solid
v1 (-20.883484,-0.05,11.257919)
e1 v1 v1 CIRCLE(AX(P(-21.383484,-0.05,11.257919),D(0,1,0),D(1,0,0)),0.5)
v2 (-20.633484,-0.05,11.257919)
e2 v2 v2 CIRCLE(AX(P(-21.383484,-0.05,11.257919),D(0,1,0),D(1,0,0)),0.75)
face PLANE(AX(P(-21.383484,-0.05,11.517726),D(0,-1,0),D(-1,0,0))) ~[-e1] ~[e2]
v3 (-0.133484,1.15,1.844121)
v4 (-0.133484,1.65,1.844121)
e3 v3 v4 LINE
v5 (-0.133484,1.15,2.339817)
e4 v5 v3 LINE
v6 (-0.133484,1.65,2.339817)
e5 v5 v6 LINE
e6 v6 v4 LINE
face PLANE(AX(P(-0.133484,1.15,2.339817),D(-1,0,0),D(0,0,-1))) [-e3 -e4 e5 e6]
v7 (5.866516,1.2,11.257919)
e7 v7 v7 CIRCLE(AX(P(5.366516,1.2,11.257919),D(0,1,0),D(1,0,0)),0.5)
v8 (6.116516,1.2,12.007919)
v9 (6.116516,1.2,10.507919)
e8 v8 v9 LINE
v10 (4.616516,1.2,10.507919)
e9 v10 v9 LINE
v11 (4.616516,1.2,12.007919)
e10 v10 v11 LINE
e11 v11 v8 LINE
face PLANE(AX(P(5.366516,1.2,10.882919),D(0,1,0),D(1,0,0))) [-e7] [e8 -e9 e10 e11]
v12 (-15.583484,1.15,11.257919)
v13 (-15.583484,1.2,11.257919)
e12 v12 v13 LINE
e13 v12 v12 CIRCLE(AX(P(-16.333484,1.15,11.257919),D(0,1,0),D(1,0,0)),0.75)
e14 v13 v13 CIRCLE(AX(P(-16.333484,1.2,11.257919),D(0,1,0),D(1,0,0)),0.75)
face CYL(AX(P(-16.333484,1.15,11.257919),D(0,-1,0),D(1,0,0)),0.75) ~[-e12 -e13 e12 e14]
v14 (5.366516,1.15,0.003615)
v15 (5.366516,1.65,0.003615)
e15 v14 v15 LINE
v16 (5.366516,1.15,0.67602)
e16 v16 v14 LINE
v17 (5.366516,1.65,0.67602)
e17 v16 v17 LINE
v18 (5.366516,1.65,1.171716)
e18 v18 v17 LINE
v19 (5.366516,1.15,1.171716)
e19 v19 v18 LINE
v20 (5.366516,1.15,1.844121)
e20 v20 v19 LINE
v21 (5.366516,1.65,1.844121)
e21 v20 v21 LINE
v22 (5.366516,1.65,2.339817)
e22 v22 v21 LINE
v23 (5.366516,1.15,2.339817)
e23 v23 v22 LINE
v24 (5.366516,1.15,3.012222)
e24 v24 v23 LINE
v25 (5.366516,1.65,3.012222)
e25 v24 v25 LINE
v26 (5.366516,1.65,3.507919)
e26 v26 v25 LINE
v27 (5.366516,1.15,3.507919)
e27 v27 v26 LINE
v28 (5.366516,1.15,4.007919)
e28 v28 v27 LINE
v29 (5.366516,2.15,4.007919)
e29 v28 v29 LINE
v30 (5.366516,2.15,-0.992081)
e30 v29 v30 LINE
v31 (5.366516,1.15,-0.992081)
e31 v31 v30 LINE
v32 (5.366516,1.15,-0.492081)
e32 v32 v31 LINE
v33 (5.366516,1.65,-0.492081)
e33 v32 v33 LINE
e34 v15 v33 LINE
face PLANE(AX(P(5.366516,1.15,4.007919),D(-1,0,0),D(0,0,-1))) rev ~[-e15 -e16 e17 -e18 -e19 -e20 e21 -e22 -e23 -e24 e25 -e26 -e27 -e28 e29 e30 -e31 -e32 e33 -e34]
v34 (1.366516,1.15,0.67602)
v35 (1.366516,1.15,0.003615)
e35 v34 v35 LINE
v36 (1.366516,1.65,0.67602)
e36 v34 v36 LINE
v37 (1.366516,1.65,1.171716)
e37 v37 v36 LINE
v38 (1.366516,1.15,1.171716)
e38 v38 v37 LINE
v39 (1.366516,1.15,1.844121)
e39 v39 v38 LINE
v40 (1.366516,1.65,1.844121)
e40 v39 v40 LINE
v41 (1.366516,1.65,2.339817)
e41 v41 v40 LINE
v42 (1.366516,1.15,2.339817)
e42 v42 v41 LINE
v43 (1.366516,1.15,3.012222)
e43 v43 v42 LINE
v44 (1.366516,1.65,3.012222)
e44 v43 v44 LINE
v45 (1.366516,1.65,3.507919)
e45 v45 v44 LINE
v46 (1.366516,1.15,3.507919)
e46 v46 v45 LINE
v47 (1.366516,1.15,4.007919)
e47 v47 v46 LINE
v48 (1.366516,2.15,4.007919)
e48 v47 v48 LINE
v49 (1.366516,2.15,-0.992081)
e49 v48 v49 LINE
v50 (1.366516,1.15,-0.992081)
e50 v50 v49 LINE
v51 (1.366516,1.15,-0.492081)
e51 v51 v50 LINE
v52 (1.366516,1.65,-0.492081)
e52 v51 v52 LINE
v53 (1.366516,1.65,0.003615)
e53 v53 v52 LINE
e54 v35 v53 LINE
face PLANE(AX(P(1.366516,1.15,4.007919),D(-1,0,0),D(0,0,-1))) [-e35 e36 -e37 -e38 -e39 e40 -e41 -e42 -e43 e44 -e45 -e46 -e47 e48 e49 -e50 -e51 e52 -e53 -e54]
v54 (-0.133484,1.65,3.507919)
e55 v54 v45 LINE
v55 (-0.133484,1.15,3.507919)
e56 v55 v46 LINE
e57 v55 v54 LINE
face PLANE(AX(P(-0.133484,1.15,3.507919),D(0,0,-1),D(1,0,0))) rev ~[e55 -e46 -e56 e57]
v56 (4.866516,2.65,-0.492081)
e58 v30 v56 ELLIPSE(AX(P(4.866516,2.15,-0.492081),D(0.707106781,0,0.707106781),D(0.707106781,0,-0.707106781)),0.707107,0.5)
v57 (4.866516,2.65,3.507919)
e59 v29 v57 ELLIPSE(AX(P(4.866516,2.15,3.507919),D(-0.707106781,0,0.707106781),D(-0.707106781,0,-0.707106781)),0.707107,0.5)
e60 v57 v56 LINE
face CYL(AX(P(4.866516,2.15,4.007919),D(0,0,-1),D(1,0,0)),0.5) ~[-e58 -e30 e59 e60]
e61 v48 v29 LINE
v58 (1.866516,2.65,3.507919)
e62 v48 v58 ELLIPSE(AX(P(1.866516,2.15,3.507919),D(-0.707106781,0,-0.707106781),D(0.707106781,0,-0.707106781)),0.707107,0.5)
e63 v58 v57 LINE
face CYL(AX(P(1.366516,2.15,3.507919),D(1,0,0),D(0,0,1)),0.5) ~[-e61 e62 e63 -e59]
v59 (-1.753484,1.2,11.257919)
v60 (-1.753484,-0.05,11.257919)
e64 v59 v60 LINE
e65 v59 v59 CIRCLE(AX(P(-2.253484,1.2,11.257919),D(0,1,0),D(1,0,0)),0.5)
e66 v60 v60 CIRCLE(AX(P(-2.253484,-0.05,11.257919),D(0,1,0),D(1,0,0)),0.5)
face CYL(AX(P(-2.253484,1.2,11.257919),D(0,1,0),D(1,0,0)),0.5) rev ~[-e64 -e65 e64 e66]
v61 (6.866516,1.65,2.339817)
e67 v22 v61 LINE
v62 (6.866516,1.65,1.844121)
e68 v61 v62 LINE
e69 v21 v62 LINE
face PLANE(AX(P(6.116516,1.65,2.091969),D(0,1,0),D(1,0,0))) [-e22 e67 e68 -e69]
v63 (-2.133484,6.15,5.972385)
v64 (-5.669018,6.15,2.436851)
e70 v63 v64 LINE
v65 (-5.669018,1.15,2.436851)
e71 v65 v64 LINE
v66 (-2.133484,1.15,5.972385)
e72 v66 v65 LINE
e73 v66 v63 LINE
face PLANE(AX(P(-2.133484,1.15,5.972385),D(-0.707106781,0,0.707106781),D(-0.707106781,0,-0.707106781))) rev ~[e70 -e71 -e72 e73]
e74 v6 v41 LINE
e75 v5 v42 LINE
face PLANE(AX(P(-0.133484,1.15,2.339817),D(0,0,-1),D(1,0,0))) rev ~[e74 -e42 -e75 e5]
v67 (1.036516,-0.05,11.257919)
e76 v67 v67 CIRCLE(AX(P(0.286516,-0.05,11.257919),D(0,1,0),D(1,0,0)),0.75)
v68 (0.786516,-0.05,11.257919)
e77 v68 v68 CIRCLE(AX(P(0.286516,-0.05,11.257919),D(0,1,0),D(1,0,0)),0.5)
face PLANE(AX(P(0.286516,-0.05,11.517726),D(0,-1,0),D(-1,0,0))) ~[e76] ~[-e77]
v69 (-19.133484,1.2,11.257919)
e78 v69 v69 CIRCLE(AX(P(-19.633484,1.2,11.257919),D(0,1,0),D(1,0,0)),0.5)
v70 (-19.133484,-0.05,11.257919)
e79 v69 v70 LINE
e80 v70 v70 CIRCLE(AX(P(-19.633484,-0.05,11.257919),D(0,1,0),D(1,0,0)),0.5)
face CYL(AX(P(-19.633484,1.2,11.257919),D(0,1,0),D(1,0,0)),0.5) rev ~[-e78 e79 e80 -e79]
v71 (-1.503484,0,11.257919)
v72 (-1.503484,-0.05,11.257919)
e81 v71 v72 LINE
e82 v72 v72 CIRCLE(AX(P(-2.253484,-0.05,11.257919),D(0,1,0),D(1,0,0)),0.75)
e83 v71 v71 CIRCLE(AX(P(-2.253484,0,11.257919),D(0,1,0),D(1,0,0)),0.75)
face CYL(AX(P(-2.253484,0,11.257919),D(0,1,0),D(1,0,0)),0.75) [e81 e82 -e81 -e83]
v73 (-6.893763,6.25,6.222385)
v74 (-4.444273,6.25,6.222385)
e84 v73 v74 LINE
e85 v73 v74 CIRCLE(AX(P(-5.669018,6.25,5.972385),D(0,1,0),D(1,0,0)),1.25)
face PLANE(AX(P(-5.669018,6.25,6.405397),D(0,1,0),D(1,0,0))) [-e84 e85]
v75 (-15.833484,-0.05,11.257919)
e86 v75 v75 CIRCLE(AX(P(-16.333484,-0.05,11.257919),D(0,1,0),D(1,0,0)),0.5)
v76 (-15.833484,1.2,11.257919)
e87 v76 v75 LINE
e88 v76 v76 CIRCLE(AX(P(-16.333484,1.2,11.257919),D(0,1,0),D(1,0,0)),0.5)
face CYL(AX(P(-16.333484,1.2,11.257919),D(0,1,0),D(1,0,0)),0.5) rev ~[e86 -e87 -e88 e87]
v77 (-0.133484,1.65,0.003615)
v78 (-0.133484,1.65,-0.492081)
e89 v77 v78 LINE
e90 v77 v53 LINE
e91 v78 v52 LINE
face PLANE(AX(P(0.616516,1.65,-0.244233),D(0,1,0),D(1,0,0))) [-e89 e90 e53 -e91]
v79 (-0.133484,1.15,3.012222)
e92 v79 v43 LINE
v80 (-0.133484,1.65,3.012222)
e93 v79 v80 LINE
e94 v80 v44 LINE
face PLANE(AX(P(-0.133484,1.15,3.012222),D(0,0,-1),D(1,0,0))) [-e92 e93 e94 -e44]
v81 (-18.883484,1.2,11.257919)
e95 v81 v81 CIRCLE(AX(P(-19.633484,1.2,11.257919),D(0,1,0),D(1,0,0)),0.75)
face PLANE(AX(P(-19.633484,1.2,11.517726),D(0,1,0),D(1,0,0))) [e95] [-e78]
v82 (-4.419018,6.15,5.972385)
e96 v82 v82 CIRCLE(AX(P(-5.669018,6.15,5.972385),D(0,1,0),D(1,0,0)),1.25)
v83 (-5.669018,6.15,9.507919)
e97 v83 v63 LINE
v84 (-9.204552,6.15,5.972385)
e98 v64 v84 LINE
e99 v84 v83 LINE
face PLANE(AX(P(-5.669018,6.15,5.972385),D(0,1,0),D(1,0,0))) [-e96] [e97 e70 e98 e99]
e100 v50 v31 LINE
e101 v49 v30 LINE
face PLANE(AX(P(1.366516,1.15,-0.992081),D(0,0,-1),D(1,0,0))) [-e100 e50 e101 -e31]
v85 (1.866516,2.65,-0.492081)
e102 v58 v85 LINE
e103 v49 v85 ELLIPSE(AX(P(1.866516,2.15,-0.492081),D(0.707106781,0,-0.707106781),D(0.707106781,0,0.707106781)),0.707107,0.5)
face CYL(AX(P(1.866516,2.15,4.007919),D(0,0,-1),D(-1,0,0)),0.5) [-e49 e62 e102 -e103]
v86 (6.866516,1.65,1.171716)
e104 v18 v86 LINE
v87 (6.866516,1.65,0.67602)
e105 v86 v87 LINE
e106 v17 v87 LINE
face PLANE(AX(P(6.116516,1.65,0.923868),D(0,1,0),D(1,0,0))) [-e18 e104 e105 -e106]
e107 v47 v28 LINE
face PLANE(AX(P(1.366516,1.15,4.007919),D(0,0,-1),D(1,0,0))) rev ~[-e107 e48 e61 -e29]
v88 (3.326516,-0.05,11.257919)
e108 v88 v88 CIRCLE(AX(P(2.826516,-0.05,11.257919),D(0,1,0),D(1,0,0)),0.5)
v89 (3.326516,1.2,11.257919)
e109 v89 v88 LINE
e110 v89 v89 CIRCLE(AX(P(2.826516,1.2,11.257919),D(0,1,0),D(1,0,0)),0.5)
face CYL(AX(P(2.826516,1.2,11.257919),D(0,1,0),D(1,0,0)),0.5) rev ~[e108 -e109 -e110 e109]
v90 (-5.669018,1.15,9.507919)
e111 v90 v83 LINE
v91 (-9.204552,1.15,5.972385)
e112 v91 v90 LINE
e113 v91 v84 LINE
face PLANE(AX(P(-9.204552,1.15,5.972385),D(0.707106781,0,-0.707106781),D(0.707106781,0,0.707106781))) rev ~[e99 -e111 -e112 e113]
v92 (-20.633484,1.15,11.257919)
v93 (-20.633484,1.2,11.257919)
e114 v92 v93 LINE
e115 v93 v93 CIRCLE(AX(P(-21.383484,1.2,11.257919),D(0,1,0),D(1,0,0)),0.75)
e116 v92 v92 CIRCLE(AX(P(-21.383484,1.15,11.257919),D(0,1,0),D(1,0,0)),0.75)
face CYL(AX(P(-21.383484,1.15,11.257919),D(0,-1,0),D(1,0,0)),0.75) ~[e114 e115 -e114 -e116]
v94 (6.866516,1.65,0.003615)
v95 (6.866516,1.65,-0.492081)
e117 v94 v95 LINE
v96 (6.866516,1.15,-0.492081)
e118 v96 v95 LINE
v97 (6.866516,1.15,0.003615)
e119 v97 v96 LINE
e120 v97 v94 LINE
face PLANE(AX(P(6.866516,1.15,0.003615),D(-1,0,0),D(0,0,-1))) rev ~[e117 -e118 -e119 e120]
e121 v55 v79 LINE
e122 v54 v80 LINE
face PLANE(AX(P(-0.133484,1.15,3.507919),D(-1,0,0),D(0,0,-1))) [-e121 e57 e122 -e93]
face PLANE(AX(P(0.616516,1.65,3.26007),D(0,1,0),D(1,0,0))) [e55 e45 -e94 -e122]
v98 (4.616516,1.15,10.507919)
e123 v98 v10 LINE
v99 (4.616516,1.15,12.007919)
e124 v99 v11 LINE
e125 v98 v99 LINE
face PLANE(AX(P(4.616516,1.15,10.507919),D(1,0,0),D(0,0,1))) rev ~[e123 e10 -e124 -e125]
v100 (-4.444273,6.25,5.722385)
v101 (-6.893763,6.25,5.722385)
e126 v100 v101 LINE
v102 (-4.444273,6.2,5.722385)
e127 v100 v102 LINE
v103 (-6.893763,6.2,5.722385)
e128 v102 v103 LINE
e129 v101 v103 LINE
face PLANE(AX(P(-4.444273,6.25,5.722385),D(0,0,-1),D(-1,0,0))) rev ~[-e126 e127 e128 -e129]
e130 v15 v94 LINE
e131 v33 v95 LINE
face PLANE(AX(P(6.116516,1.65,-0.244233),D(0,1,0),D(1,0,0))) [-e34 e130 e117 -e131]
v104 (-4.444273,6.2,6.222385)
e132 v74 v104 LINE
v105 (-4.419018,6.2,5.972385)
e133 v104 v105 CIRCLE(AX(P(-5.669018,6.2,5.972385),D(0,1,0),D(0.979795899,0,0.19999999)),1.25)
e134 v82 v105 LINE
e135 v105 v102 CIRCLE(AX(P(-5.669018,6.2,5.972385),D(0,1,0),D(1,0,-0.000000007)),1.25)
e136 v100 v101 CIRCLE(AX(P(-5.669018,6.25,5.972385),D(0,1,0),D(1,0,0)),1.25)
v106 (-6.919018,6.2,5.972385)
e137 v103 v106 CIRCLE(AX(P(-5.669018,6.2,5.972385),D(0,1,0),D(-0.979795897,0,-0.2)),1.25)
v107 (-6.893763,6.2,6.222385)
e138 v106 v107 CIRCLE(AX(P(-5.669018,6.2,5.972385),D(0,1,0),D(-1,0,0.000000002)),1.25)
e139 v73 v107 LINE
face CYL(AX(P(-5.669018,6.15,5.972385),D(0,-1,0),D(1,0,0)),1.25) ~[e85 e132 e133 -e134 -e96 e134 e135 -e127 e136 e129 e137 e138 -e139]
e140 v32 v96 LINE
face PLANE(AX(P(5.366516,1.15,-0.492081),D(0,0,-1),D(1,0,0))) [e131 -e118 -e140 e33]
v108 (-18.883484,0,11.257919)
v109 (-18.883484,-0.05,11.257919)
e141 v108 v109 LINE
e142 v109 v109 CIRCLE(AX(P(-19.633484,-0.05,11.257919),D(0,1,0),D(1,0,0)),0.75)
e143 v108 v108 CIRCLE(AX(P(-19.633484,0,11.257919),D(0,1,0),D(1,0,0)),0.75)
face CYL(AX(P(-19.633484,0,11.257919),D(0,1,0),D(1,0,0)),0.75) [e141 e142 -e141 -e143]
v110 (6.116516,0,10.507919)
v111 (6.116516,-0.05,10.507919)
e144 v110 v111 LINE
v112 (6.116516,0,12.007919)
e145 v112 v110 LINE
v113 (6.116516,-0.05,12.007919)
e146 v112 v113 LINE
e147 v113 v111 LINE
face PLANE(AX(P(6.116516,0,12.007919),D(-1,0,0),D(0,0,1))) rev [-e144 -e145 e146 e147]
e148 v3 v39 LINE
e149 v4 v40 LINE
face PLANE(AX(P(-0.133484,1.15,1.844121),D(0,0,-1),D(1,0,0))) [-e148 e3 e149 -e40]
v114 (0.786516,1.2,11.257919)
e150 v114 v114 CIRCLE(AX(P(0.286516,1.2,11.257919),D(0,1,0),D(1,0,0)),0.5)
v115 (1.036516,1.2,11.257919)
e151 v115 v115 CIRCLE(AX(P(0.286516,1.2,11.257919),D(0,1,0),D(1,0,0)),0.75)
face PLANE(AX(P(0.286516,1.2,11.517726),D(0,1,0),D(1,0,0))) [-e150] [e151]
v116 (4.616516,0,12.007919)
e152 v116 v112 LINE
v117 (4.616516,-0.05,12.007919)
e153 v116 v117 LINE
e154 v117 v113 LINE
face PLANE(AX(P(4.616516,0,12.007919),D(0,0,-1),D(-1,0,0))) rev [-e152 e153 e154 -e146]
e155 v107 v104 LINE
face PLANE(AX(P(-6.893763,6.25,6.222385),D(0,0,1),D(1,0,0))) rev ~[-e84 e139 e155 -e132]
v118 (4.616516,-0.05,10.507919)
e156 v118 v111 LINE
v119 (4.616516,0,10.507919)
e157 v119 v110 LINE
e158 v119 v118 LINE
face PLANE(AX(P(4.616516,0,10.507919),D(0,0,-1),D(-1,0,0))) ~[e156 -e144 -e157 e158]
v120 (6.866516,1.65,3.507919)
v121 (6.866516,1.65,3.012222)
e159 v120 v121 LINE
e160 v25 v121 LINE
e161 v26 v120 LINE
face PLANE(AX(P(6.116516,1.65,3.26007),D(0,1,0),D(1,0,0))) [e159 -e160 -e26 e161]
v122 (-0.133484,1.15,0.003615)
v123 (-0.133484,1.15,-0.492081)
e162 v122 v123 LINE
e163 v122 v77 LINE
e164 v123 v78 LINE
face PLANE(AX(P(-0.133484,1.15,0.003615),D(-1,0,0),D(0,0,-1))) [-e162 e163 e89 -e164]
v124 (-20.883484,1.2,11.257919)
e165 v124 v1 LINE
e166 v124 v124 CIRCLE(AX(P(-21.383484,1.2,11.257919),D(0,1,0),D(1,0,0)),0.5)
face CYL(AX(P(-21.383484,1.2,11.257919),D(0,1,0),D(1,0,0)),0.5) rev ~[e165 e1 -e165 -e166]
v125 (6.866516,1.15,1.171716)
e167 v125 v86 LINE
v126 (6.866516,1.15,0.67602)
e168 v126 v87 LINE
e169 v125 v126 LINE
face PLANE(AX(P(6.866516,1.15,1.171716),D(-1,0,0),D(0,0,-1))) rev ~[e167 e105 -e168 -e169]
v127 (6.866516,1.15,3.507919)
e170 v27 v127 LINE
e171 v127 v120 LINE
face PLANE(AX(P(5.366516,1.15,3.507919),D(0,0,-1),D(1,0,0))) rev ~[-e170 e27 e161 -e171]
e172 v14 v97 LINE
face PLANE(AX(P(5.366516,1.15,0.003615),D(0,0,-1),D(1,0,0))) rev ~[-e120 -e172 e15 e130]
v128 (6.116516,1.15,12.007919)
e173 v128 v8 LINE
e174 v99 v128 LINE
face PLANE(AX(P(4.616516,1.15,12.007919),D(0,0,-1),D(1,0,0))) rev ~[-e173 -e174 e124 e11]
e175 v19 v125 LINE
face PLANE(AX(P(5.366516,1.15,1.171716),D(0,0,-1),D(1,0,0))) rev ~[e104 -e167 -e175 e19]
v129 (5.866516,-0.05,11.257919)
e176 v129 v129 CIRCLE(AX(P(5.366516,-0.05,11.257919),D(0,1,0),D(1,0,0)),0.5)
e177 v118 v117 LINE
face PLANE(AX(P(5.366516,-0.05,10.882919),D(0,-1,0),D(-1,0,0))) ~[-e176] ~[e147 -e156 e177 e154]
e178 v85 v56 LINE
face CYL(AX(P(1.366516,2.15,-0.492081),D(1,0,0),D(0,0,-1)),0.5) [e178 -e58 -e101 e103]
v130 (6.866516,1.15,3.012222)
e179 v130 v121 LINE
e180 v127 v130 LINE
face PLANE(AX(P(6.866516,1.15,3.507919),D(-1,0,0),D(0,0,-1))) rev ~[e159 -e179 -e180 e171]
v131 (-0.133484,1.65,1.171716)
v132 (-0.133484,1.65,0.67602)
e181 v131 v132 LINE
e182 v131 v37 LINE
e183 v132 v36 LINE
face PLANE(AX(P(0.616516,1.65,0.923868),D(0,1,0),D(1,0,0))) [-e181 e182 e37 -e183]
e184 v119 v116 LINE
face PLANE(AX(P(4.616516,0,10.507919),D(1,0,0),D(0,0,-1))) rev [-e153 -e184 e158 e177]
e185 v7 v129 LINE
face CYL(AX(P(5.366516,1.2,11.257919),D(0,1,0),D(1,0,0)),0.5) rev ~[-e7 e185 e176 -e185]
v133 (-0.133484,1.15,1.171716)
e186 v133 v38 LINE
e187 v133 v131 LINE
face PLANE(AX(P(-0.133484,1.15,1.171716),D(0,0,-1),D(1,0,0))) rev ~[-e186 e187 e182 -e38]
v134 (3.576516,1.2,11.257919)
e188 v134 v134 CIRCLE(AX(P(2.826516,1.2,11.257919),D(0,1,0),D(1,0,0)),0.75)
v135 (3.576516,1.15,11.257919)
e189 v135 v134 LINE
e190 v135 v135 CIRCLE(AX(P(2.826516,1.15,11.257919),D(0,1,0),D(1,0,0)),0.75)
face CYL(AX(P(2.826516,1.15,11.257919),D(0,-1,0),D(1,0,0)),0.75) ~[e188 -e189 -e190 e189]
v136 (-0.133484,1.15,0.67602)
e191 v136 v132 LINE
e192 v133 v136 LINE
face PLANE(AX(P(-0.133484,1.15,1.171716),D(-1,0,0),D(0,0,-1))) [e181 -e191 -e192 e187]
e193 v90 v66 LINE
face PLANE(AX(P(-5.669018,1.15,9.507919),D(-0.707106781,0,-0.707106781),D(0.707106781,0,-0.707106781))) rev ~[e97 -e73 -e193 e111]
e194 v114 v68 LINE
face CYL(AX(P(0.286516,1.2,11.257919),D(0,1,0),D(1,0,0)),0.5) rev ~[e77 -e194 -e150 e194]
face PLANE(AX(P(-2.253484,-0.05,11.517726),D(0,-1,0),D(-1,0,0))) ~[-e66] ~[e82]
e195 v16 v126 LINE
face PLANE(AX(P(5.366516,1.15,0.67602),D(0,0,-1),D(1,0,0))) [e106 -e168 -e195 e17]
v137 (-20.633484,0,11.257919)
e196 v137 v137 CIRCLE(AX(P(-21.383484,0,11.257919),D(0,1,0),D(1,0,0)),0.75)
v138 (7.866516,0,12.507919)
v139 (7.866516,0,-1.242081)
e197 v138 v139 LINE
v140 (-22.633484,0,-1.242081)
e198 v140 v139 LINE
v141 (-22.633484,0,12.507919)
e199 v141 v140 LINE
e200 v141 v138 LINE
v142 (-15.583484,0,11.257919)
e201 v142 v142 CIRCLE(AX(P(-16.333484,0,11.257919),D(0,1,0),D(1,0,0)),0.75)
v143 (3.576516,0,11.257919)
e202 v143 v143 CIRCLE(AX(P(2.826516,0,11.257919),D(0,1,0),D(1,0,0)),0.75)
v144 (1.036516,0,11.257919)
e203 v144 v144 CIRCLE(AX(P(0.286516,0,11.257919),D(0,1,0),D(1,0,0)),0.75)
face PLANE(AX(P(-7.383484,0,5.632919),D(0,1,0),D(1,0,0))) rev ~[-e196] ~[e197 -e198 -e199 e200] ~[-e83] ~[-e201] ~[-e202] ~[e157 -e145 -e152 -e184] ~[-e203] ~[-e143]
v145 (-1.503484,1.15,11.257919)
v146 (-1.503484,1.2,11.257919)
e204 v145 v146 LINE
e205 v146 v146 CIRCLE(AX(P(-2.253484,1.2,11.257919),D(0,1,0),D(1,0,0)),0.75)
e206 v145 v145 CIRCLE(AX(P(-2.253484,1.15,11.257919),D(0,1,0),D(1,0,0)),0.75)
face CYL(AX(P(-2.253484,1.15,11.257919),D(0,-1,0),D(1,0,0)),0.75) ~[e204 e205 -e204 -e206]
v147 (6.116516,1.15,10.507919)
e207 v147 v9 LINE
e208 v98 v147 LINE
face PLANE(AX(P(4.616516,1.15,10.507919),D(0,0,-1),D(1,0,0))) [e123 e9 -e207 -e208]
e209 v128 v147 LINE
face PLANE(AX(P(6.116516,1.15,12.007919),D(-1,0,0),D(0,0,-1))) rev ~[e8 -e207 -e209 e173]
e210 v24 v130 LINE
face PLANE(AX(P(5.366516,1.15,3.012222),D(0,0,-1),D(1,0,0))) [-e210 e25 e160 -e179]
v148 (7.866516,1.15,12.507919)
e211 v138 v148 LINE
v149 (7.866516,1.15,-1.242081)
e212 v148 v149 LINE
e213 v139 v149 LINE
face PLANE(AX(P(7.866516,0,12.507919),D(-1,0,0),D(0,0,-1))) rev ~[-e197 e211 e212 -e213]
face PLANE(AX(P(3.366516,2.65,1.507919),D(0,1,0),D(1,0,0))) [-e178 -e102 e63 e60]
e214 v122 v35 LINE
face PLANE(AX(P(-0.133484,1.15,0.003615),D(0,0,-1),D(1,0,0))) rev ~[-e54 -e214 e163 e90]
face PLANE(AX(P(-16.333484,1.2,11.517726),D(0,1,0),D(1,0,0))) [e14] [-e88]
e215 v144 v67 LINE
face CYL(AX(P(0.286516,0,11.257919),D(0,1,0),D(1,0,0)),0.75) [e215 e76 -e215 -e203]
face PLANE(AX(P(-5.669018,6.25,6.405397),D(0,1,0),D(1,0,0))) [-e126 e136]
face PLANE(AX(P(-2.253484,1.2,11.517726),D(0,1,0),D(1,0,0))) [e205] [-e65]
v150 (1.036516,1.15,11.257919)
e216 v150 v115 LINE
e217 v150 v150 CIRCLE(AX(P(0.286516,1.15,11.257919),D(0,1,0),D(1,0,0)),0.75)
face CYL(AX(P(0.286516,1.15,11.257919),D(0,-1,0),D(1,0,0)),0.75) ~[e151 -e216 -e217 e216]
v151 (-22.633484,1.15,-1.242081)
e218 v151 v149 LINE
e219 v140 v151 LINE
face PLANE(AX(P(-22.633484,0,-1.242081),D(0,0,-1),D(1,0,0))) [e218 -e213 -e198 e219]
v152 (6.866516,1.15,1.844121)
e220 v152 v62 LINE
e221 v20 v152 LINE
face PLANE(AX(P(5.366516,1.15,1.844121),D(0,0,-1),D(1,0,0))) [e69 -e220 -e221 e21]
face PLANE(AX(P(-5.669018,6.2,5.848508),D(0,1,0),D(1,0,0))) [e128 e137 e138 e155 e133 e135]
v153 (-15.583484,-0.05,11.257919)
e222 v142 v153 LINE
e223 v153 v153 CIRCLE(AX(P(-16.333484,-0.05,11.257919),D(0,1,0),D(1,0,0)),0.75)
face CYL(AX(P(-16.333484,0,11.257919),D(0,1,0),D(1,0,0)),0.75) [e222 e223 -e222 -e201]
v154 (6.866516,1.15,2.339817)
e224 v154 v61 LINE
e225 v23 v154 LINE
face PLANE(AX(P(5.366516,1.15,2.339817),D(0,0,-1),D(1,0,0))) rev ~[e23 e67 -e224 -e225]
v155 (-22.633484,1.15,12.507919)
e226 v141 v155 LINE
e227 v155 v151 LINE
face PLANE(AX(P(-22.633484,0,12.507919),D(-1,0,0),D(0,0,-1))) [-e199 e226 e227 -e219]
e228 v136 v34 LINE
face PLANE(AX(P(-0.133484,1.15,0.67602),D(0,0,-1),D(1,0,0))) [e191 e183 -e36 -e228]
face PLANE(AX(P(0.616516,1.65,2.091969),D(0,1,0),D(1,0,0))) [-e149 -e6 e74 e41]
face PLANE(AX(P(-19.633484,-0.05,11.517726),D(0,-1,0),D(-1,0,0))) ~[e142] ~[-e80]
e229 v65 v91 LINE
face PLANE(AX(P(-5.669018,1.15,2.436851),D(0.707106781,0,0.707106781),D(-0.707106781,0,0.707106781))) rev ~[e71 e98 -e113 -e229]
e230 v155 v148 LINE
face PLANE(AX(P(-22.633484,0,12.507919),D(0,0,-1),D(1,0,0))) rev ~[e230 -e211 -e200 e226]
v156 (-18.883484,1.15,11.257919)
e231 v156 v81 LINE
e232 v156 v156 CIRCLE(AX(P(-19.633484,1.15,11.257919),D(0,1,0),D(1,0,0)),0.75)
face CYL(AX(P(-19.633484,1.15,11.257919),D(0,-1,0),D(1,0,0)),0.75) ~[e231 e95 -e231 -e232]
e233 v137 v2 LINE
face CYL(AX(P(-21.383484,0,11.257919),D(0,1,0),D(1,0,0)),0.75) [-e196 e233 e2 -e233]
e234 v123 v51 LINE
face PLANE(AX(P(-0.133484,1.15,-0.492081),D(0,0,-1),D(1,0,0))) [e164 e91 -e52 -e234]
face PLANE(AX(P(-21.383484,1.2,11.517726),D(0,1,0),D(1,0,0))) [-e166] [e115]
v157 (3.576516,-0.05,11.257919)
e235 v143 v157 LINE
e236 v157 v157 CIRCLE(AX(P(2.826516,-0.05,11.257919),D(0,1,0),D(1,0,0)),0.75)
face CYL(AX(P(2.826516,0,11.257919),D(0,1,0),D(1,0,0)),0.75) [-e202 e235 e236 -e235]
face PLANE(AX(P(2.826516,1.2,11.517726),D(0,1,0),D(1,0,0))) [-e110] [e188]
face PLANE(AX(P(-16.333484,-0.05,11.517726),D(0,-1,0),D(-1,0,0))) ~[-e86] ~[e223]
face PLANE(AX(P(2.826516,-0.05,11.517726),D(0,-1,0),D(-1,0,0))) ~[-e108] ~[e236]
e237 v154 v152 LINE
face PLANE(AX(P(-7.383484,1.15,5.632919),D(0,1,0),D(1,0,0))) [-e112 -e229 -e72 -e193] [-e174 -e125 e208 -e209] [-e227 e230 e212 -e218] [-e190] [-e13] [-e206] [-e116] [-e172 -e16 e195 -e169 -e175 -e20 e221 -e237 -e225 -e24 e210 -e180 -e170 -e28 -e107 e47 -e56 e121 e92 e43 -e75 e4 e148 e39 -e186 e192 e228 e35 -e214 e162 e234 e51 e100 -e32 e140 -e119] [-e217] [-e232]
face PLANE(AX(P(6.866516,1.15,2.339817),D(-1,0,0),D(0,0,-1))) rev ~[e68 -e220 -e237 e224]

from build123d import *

# Parameters (mm, degrees)
SKETCH1_W           = 30.5
SKETCH1_H           = 13.75
BOSS_EXTRUDE2_DEPTH = 1.15
BOSS_EXTRUDE4_DEPTH = 5
BOSS_EXTRUDE5_DEPTH = 0.1
CUT_EXTRUDE1_DEPTH  = 0.05
SKETCH6_W           = 1.5
SKETCH6_H           = 0.75
BOSS_EXTRUDE6_DEPTH = 0.05
SKETCH7_R           = 0.5
CUT_EXTRUDE2_DEPTH  = 2.25
SKETCH8_W           = 4
SKETCH8_H           = 5
BOSS_EXTRUDE7_DEPTH = 1.5
FILLET1_R           = 0.5
SKETCH9_W           = 1.5
SKETCH9_H           = 0.495696311
BOSS_EXTRUDE8_DEPTH = 0.5


with BuildPart() as part:
    # Sketch1 → Boss-Extrude2 (new body)
    with BuildSketch(Plane(origin=(0, 0, 0), x_dir=(1, 0, 0), z_dir=(0, 1, 0))):
        with Locations((-7.383484163, -5.632918552)):
            Rectangle(SKETCH1_W, SKETCH1_H)
    extrude(amount=BOSS_EXTRUDE2_DEPTH)

    # Sketch3 → Boss-Extrude4 (add)
    with BuildSketch(Plane(origin=(0, 1.15, 0), x_dir=(1, 0, 0), z_dir=(0, 1, 0))):
        Polygon((-9.204551975, -5.972384646), (-5.669018069, -9.507918552), (-2.133484163, -5.972384646), (-5.669018069, -2.43685074), align=None)
    extrude(amount=BOSS_EXTRUDE4_DEPTH)

    # Sketch4 → Boss-Extrude5 (add)
    with BuildSketch(Plane(origin=(0, 6.15, 0), x_dir=(1, 0, 0), z_dir=(0, 1, 0))):
        with BuildLine():
            ThreePointArc((-6.919018069, -5.972384646), (-5.669018069, -7.222384646), (-4.419018069, -5.972384646))
            Line((-4.419018069, -5.972384646), (-6.919018069, -5.972384646))
        make_face()
        with BuildLine():
            Line((-6.919018069, -5.972384646), (-4.419018069, -5.972384646))
            ThreePointArc((-4.419018069, -5.972384646), (-5.669018069, -4.722384646), (-6.919018069, -5.972384646))
        make_face()
    extrude(amount=BOSS_EXTRUDE5_DEPTH)

    # Sketch5 → Cut-Extrude1 (cut)
    with BuildSketch(Plane(origin=(0, 6.25, 0), x_dir=(1, 0, 0), z_dir=(0, 1, 0))):
        with BuildLine():
            Line((-6.919018069, -5.972384646), (-4.419018069, -5.972384646))
            ThreePointArc((-4.419018069, -5.972384646), (-4.425347878, -5.846748444), (-4.444273197, -5.722384646))
            Line((-4.444273197, -5.722384646), (-6.89376294, -5.722384646))
            ThreePointArc((-6.89376294, -5.722384646), (-6.91268826, -5.846748444), (-6.919018069, -5.972384646))
        make_face()
        with BuildLine():
            ThreePointArc((-4.444273197, -6.222384646), (-4.425347878, -6.098020849), (-4.419018069, -5.972384646))
            Line((-4.419018069, -5.972384646), (-6.919018069, -5.972384646))
            ThreePointArc((-6.919018069, -5.972384646), (-6.91268826, -6.098020849), (-6.89376294, -6.222384646))
            Line((-6.89376294, -6.222384646), (-4.444273197, -6.222384646))
        make_face()
    extrude(amount=-CUT_EXTRUDE1_DEPTH, mode=Mode.SUBTRACT)

    # Sketch6 → Boss-Extrude6 (add)
    with BuildSketch(Plane(origin=(0, 1.15, 0), x_dir=(1, 0, 0), z_dir=(0, 1, 0))):
        with BuildLine():
            ThreePointArc((-3.003484163, -11.257918552), (-2.253484163, -12.007918552), (-1.503484163, -11.257918552))
            Line((-1.503484163, -11.257918552), (-3.003484163, -11.257918552))
        make_face()
        with BuildLine():
            Line((-3.003484163, -11.257918552), (-1.503484163, -11.257918552))
            ThreePointArc((-1.503484163, -11.257918552), (-2.253484163, -10.507918552), (-3.003484163, -11.257918552))
        make_face()
        with BuildLine():
            ThreePointArc((-0.463484163, -11.257918552), (0.286515837, -12.007918552), (1.036515837, -11.257918552))
            Line((1.036515837, -11.257918552), (-0.463484163, -11.257918552))
        make_face()
        with BuildLine():
            Line((-0.463484163, -11.257918552), (1.036515837, -11.257918552))
            ThreePointArc((1.036515837, -11.257918552), (0.286515837, -10.507918552), (-0.463484163, -11.257918552))
        make_face()
        with BuildLine():
            ThreePointArc((2.076515837, -11.257918552), (2.826515837, -12.007918552), (3.576515837, -11.257918552))
            Line((3.576515837, -11.257918552), (2.076515837, -11.257918552))
        make_face()
        with BuildLine():
            Line((2.076515837, -11.257918552), (3.576515837, -11.257918552))
            ThreePointArc((3.576515837, -11.257918552), (2.826515837, -10.507918552), (2.076515837, -11.257918552))
        make_face()
        with Locations((5.366515837, -10.882918552)):
            Rectangle(SKETCH6_W, SKETCH6_H)
        with Locations((5.366515837, -11.632918552)):
            Rectangle(SKETCH6_W, SKETCH6_H)
        with BuildLine():
            ThreePointArc((-17.083484163, -11.257918552), (-16.333484163, -12.007918552), (-15.583484163, -11.257918552))
            Line((-15.583484163, -11.257918552), (-17.083484163, -11.257918552))
        make_face()
        with BuildLine():
            Line((-17.083484163, -11.257918552), (-15.583484163, -11.257918552))
            ThreePointArc((-15.583484163, -11.257918552), (-16.333484163, -10.507918552), (-17.083484163, -11.257918552))
        make_face()
        with BuildLine():
            ThreePointArc((-20.383484163, -11.257918552), (-19.633484163, -12.007918552), (-18.883484163, -11.257918552))
            Line((-18.883484163, -11.257918552), (-20.383484163, -11.257918552))
        make_face()
        with BuildLine():
            Line((-20.383484163, -11.257918552), (-18.883484163, -11.257918552))
            ThreePointArc((-18.883484163, -11.257918552), (-19.633484163, -10.507918552), (-20.383484163, -11.257918552))
        make_face()
        with BuildLine():
            ThreePointArc((-22.133484163, -11.257918552), (-21.383484163, -12.007918552), (-20.633484163, -11.257918552))
            Line((-20.633484163, -11.257918552), (-22.133484163, -11.257918552))
        make_face()
        with BuildLine():
            Line((-22.133484163, -11.257918552), (-20.633484163, -11.257918552))
            ThreePointArc((-20.633484163, -11.257918552), (-21.383484163, -10.507918552), (-22.133484163, -11.257918552))
        make_face()
    boss_extrude6 = extrude(amount=BOSS_EXTRUDE6_DEPTH)

    # Mirror1: Boss-Extrude6 across plane
    add(boss_extrude6.mirror(Plane.ZX.offset(0.575)))

    # Sketch7 → Cut-Extrude2 (cut, through all)
    with BuildSketch(Plane(origin=(0, 1.2, 0), x_dir=(1, 0, 0), z_dir=(0, 1, 0))):
        with Locations((-21.383484163, -11.257918552)):
            Circle(SKETCH7_R)
        with Locations((-19.633484163, -11.257918552)):
            Circle(SKETCH7_R)
        with Locations((-16.333484163, -11.257918552)):
            Circle(SKETCH7_R)
        with Locations((-2.253484163, -11.257918552)):
            Circle(SKETCH7_R)
        with Locations((0.286515837, -11.257918552)):
            Circle(SKETCH7_R)
        with Locations((2.826515837, -11.257918552)):
            Circle(SKETCH7_R)
        with Locations((5.366515837, -11.257918552)):
            Circle(SKETCH7_R)
    extrude(amount=-CUT_EXTRUDE2_DEPTH, mode=Mode.SUBTRACT)

    # Sketch8 → Boss-Extrude7 (add)
    with BuildSketch(Plane(origin=(0, 1.15, 0), x_dir=(1, 0, 0), z_dir=(0, 1, 0))):
        with Locations((3.366515837, -1.507918552)):
            Rectangle(SKETCH8_W, SKETCH8_H)
    extrude(amount=BOSS_EXTRUDE7_DEPTH)

    # Fillet1
    fillet1_edges = [part.edges().sort_by_distance(p)[0] for p in [
        (5.366515837, 2.65, 1.507918552),
        (3.366515837, 2.65, -0.992081448),
        (1.366515837, 2.65, 1.507918552),
        (3.366515837, 2.65, 4.007918552),
    ]]
    fillet(fillet1_edges, radius=FILLET1_R)

    # Sketch9 → Boss-Extrude8 (add)
    with BuildSketch(Plane(origin=(0, 1.15, 0), x_dir=(1, 0, 0), z_dir=(0, 1, 0))):
        with Locations((6.116515837, -0.923867938)):
            Rectangle(SKETCH9_W, SKETCH9_H)
        with Locations((6.116515837, -2.091969167)):
            Rectangle(SKETCH9_W, SKETCH9_H)
        with Locations((6.116515837, -3.260070397)):
            Rectangle(SKETCH9_W, SKETCH9_H)
        with Locations((6.116515837, 0.244233293)):
            Rectangle(SKETCH9_W, SKETCH9_H)
        with Locations((0.616515837, -3.260070397)):
            Rectangle(SKETCH9_W, SKETCH9_H)
        with Locations((0.616515837, -2.091969167)):
            Rectangle(SKETCH9_W, SKETCH9_H)
        with Locations((0.616515837, -0.923867938)):
            Rectangle(SKETCH9_W, SKETCH9_H)
        with Locations((0.616515837, 0.244233293)):
            Rectangle(SKETCH9_W, SKETCH9_H)
    extrude(amount=BOSS_EXTRUDE8_DEPTH)


solid = part.part
